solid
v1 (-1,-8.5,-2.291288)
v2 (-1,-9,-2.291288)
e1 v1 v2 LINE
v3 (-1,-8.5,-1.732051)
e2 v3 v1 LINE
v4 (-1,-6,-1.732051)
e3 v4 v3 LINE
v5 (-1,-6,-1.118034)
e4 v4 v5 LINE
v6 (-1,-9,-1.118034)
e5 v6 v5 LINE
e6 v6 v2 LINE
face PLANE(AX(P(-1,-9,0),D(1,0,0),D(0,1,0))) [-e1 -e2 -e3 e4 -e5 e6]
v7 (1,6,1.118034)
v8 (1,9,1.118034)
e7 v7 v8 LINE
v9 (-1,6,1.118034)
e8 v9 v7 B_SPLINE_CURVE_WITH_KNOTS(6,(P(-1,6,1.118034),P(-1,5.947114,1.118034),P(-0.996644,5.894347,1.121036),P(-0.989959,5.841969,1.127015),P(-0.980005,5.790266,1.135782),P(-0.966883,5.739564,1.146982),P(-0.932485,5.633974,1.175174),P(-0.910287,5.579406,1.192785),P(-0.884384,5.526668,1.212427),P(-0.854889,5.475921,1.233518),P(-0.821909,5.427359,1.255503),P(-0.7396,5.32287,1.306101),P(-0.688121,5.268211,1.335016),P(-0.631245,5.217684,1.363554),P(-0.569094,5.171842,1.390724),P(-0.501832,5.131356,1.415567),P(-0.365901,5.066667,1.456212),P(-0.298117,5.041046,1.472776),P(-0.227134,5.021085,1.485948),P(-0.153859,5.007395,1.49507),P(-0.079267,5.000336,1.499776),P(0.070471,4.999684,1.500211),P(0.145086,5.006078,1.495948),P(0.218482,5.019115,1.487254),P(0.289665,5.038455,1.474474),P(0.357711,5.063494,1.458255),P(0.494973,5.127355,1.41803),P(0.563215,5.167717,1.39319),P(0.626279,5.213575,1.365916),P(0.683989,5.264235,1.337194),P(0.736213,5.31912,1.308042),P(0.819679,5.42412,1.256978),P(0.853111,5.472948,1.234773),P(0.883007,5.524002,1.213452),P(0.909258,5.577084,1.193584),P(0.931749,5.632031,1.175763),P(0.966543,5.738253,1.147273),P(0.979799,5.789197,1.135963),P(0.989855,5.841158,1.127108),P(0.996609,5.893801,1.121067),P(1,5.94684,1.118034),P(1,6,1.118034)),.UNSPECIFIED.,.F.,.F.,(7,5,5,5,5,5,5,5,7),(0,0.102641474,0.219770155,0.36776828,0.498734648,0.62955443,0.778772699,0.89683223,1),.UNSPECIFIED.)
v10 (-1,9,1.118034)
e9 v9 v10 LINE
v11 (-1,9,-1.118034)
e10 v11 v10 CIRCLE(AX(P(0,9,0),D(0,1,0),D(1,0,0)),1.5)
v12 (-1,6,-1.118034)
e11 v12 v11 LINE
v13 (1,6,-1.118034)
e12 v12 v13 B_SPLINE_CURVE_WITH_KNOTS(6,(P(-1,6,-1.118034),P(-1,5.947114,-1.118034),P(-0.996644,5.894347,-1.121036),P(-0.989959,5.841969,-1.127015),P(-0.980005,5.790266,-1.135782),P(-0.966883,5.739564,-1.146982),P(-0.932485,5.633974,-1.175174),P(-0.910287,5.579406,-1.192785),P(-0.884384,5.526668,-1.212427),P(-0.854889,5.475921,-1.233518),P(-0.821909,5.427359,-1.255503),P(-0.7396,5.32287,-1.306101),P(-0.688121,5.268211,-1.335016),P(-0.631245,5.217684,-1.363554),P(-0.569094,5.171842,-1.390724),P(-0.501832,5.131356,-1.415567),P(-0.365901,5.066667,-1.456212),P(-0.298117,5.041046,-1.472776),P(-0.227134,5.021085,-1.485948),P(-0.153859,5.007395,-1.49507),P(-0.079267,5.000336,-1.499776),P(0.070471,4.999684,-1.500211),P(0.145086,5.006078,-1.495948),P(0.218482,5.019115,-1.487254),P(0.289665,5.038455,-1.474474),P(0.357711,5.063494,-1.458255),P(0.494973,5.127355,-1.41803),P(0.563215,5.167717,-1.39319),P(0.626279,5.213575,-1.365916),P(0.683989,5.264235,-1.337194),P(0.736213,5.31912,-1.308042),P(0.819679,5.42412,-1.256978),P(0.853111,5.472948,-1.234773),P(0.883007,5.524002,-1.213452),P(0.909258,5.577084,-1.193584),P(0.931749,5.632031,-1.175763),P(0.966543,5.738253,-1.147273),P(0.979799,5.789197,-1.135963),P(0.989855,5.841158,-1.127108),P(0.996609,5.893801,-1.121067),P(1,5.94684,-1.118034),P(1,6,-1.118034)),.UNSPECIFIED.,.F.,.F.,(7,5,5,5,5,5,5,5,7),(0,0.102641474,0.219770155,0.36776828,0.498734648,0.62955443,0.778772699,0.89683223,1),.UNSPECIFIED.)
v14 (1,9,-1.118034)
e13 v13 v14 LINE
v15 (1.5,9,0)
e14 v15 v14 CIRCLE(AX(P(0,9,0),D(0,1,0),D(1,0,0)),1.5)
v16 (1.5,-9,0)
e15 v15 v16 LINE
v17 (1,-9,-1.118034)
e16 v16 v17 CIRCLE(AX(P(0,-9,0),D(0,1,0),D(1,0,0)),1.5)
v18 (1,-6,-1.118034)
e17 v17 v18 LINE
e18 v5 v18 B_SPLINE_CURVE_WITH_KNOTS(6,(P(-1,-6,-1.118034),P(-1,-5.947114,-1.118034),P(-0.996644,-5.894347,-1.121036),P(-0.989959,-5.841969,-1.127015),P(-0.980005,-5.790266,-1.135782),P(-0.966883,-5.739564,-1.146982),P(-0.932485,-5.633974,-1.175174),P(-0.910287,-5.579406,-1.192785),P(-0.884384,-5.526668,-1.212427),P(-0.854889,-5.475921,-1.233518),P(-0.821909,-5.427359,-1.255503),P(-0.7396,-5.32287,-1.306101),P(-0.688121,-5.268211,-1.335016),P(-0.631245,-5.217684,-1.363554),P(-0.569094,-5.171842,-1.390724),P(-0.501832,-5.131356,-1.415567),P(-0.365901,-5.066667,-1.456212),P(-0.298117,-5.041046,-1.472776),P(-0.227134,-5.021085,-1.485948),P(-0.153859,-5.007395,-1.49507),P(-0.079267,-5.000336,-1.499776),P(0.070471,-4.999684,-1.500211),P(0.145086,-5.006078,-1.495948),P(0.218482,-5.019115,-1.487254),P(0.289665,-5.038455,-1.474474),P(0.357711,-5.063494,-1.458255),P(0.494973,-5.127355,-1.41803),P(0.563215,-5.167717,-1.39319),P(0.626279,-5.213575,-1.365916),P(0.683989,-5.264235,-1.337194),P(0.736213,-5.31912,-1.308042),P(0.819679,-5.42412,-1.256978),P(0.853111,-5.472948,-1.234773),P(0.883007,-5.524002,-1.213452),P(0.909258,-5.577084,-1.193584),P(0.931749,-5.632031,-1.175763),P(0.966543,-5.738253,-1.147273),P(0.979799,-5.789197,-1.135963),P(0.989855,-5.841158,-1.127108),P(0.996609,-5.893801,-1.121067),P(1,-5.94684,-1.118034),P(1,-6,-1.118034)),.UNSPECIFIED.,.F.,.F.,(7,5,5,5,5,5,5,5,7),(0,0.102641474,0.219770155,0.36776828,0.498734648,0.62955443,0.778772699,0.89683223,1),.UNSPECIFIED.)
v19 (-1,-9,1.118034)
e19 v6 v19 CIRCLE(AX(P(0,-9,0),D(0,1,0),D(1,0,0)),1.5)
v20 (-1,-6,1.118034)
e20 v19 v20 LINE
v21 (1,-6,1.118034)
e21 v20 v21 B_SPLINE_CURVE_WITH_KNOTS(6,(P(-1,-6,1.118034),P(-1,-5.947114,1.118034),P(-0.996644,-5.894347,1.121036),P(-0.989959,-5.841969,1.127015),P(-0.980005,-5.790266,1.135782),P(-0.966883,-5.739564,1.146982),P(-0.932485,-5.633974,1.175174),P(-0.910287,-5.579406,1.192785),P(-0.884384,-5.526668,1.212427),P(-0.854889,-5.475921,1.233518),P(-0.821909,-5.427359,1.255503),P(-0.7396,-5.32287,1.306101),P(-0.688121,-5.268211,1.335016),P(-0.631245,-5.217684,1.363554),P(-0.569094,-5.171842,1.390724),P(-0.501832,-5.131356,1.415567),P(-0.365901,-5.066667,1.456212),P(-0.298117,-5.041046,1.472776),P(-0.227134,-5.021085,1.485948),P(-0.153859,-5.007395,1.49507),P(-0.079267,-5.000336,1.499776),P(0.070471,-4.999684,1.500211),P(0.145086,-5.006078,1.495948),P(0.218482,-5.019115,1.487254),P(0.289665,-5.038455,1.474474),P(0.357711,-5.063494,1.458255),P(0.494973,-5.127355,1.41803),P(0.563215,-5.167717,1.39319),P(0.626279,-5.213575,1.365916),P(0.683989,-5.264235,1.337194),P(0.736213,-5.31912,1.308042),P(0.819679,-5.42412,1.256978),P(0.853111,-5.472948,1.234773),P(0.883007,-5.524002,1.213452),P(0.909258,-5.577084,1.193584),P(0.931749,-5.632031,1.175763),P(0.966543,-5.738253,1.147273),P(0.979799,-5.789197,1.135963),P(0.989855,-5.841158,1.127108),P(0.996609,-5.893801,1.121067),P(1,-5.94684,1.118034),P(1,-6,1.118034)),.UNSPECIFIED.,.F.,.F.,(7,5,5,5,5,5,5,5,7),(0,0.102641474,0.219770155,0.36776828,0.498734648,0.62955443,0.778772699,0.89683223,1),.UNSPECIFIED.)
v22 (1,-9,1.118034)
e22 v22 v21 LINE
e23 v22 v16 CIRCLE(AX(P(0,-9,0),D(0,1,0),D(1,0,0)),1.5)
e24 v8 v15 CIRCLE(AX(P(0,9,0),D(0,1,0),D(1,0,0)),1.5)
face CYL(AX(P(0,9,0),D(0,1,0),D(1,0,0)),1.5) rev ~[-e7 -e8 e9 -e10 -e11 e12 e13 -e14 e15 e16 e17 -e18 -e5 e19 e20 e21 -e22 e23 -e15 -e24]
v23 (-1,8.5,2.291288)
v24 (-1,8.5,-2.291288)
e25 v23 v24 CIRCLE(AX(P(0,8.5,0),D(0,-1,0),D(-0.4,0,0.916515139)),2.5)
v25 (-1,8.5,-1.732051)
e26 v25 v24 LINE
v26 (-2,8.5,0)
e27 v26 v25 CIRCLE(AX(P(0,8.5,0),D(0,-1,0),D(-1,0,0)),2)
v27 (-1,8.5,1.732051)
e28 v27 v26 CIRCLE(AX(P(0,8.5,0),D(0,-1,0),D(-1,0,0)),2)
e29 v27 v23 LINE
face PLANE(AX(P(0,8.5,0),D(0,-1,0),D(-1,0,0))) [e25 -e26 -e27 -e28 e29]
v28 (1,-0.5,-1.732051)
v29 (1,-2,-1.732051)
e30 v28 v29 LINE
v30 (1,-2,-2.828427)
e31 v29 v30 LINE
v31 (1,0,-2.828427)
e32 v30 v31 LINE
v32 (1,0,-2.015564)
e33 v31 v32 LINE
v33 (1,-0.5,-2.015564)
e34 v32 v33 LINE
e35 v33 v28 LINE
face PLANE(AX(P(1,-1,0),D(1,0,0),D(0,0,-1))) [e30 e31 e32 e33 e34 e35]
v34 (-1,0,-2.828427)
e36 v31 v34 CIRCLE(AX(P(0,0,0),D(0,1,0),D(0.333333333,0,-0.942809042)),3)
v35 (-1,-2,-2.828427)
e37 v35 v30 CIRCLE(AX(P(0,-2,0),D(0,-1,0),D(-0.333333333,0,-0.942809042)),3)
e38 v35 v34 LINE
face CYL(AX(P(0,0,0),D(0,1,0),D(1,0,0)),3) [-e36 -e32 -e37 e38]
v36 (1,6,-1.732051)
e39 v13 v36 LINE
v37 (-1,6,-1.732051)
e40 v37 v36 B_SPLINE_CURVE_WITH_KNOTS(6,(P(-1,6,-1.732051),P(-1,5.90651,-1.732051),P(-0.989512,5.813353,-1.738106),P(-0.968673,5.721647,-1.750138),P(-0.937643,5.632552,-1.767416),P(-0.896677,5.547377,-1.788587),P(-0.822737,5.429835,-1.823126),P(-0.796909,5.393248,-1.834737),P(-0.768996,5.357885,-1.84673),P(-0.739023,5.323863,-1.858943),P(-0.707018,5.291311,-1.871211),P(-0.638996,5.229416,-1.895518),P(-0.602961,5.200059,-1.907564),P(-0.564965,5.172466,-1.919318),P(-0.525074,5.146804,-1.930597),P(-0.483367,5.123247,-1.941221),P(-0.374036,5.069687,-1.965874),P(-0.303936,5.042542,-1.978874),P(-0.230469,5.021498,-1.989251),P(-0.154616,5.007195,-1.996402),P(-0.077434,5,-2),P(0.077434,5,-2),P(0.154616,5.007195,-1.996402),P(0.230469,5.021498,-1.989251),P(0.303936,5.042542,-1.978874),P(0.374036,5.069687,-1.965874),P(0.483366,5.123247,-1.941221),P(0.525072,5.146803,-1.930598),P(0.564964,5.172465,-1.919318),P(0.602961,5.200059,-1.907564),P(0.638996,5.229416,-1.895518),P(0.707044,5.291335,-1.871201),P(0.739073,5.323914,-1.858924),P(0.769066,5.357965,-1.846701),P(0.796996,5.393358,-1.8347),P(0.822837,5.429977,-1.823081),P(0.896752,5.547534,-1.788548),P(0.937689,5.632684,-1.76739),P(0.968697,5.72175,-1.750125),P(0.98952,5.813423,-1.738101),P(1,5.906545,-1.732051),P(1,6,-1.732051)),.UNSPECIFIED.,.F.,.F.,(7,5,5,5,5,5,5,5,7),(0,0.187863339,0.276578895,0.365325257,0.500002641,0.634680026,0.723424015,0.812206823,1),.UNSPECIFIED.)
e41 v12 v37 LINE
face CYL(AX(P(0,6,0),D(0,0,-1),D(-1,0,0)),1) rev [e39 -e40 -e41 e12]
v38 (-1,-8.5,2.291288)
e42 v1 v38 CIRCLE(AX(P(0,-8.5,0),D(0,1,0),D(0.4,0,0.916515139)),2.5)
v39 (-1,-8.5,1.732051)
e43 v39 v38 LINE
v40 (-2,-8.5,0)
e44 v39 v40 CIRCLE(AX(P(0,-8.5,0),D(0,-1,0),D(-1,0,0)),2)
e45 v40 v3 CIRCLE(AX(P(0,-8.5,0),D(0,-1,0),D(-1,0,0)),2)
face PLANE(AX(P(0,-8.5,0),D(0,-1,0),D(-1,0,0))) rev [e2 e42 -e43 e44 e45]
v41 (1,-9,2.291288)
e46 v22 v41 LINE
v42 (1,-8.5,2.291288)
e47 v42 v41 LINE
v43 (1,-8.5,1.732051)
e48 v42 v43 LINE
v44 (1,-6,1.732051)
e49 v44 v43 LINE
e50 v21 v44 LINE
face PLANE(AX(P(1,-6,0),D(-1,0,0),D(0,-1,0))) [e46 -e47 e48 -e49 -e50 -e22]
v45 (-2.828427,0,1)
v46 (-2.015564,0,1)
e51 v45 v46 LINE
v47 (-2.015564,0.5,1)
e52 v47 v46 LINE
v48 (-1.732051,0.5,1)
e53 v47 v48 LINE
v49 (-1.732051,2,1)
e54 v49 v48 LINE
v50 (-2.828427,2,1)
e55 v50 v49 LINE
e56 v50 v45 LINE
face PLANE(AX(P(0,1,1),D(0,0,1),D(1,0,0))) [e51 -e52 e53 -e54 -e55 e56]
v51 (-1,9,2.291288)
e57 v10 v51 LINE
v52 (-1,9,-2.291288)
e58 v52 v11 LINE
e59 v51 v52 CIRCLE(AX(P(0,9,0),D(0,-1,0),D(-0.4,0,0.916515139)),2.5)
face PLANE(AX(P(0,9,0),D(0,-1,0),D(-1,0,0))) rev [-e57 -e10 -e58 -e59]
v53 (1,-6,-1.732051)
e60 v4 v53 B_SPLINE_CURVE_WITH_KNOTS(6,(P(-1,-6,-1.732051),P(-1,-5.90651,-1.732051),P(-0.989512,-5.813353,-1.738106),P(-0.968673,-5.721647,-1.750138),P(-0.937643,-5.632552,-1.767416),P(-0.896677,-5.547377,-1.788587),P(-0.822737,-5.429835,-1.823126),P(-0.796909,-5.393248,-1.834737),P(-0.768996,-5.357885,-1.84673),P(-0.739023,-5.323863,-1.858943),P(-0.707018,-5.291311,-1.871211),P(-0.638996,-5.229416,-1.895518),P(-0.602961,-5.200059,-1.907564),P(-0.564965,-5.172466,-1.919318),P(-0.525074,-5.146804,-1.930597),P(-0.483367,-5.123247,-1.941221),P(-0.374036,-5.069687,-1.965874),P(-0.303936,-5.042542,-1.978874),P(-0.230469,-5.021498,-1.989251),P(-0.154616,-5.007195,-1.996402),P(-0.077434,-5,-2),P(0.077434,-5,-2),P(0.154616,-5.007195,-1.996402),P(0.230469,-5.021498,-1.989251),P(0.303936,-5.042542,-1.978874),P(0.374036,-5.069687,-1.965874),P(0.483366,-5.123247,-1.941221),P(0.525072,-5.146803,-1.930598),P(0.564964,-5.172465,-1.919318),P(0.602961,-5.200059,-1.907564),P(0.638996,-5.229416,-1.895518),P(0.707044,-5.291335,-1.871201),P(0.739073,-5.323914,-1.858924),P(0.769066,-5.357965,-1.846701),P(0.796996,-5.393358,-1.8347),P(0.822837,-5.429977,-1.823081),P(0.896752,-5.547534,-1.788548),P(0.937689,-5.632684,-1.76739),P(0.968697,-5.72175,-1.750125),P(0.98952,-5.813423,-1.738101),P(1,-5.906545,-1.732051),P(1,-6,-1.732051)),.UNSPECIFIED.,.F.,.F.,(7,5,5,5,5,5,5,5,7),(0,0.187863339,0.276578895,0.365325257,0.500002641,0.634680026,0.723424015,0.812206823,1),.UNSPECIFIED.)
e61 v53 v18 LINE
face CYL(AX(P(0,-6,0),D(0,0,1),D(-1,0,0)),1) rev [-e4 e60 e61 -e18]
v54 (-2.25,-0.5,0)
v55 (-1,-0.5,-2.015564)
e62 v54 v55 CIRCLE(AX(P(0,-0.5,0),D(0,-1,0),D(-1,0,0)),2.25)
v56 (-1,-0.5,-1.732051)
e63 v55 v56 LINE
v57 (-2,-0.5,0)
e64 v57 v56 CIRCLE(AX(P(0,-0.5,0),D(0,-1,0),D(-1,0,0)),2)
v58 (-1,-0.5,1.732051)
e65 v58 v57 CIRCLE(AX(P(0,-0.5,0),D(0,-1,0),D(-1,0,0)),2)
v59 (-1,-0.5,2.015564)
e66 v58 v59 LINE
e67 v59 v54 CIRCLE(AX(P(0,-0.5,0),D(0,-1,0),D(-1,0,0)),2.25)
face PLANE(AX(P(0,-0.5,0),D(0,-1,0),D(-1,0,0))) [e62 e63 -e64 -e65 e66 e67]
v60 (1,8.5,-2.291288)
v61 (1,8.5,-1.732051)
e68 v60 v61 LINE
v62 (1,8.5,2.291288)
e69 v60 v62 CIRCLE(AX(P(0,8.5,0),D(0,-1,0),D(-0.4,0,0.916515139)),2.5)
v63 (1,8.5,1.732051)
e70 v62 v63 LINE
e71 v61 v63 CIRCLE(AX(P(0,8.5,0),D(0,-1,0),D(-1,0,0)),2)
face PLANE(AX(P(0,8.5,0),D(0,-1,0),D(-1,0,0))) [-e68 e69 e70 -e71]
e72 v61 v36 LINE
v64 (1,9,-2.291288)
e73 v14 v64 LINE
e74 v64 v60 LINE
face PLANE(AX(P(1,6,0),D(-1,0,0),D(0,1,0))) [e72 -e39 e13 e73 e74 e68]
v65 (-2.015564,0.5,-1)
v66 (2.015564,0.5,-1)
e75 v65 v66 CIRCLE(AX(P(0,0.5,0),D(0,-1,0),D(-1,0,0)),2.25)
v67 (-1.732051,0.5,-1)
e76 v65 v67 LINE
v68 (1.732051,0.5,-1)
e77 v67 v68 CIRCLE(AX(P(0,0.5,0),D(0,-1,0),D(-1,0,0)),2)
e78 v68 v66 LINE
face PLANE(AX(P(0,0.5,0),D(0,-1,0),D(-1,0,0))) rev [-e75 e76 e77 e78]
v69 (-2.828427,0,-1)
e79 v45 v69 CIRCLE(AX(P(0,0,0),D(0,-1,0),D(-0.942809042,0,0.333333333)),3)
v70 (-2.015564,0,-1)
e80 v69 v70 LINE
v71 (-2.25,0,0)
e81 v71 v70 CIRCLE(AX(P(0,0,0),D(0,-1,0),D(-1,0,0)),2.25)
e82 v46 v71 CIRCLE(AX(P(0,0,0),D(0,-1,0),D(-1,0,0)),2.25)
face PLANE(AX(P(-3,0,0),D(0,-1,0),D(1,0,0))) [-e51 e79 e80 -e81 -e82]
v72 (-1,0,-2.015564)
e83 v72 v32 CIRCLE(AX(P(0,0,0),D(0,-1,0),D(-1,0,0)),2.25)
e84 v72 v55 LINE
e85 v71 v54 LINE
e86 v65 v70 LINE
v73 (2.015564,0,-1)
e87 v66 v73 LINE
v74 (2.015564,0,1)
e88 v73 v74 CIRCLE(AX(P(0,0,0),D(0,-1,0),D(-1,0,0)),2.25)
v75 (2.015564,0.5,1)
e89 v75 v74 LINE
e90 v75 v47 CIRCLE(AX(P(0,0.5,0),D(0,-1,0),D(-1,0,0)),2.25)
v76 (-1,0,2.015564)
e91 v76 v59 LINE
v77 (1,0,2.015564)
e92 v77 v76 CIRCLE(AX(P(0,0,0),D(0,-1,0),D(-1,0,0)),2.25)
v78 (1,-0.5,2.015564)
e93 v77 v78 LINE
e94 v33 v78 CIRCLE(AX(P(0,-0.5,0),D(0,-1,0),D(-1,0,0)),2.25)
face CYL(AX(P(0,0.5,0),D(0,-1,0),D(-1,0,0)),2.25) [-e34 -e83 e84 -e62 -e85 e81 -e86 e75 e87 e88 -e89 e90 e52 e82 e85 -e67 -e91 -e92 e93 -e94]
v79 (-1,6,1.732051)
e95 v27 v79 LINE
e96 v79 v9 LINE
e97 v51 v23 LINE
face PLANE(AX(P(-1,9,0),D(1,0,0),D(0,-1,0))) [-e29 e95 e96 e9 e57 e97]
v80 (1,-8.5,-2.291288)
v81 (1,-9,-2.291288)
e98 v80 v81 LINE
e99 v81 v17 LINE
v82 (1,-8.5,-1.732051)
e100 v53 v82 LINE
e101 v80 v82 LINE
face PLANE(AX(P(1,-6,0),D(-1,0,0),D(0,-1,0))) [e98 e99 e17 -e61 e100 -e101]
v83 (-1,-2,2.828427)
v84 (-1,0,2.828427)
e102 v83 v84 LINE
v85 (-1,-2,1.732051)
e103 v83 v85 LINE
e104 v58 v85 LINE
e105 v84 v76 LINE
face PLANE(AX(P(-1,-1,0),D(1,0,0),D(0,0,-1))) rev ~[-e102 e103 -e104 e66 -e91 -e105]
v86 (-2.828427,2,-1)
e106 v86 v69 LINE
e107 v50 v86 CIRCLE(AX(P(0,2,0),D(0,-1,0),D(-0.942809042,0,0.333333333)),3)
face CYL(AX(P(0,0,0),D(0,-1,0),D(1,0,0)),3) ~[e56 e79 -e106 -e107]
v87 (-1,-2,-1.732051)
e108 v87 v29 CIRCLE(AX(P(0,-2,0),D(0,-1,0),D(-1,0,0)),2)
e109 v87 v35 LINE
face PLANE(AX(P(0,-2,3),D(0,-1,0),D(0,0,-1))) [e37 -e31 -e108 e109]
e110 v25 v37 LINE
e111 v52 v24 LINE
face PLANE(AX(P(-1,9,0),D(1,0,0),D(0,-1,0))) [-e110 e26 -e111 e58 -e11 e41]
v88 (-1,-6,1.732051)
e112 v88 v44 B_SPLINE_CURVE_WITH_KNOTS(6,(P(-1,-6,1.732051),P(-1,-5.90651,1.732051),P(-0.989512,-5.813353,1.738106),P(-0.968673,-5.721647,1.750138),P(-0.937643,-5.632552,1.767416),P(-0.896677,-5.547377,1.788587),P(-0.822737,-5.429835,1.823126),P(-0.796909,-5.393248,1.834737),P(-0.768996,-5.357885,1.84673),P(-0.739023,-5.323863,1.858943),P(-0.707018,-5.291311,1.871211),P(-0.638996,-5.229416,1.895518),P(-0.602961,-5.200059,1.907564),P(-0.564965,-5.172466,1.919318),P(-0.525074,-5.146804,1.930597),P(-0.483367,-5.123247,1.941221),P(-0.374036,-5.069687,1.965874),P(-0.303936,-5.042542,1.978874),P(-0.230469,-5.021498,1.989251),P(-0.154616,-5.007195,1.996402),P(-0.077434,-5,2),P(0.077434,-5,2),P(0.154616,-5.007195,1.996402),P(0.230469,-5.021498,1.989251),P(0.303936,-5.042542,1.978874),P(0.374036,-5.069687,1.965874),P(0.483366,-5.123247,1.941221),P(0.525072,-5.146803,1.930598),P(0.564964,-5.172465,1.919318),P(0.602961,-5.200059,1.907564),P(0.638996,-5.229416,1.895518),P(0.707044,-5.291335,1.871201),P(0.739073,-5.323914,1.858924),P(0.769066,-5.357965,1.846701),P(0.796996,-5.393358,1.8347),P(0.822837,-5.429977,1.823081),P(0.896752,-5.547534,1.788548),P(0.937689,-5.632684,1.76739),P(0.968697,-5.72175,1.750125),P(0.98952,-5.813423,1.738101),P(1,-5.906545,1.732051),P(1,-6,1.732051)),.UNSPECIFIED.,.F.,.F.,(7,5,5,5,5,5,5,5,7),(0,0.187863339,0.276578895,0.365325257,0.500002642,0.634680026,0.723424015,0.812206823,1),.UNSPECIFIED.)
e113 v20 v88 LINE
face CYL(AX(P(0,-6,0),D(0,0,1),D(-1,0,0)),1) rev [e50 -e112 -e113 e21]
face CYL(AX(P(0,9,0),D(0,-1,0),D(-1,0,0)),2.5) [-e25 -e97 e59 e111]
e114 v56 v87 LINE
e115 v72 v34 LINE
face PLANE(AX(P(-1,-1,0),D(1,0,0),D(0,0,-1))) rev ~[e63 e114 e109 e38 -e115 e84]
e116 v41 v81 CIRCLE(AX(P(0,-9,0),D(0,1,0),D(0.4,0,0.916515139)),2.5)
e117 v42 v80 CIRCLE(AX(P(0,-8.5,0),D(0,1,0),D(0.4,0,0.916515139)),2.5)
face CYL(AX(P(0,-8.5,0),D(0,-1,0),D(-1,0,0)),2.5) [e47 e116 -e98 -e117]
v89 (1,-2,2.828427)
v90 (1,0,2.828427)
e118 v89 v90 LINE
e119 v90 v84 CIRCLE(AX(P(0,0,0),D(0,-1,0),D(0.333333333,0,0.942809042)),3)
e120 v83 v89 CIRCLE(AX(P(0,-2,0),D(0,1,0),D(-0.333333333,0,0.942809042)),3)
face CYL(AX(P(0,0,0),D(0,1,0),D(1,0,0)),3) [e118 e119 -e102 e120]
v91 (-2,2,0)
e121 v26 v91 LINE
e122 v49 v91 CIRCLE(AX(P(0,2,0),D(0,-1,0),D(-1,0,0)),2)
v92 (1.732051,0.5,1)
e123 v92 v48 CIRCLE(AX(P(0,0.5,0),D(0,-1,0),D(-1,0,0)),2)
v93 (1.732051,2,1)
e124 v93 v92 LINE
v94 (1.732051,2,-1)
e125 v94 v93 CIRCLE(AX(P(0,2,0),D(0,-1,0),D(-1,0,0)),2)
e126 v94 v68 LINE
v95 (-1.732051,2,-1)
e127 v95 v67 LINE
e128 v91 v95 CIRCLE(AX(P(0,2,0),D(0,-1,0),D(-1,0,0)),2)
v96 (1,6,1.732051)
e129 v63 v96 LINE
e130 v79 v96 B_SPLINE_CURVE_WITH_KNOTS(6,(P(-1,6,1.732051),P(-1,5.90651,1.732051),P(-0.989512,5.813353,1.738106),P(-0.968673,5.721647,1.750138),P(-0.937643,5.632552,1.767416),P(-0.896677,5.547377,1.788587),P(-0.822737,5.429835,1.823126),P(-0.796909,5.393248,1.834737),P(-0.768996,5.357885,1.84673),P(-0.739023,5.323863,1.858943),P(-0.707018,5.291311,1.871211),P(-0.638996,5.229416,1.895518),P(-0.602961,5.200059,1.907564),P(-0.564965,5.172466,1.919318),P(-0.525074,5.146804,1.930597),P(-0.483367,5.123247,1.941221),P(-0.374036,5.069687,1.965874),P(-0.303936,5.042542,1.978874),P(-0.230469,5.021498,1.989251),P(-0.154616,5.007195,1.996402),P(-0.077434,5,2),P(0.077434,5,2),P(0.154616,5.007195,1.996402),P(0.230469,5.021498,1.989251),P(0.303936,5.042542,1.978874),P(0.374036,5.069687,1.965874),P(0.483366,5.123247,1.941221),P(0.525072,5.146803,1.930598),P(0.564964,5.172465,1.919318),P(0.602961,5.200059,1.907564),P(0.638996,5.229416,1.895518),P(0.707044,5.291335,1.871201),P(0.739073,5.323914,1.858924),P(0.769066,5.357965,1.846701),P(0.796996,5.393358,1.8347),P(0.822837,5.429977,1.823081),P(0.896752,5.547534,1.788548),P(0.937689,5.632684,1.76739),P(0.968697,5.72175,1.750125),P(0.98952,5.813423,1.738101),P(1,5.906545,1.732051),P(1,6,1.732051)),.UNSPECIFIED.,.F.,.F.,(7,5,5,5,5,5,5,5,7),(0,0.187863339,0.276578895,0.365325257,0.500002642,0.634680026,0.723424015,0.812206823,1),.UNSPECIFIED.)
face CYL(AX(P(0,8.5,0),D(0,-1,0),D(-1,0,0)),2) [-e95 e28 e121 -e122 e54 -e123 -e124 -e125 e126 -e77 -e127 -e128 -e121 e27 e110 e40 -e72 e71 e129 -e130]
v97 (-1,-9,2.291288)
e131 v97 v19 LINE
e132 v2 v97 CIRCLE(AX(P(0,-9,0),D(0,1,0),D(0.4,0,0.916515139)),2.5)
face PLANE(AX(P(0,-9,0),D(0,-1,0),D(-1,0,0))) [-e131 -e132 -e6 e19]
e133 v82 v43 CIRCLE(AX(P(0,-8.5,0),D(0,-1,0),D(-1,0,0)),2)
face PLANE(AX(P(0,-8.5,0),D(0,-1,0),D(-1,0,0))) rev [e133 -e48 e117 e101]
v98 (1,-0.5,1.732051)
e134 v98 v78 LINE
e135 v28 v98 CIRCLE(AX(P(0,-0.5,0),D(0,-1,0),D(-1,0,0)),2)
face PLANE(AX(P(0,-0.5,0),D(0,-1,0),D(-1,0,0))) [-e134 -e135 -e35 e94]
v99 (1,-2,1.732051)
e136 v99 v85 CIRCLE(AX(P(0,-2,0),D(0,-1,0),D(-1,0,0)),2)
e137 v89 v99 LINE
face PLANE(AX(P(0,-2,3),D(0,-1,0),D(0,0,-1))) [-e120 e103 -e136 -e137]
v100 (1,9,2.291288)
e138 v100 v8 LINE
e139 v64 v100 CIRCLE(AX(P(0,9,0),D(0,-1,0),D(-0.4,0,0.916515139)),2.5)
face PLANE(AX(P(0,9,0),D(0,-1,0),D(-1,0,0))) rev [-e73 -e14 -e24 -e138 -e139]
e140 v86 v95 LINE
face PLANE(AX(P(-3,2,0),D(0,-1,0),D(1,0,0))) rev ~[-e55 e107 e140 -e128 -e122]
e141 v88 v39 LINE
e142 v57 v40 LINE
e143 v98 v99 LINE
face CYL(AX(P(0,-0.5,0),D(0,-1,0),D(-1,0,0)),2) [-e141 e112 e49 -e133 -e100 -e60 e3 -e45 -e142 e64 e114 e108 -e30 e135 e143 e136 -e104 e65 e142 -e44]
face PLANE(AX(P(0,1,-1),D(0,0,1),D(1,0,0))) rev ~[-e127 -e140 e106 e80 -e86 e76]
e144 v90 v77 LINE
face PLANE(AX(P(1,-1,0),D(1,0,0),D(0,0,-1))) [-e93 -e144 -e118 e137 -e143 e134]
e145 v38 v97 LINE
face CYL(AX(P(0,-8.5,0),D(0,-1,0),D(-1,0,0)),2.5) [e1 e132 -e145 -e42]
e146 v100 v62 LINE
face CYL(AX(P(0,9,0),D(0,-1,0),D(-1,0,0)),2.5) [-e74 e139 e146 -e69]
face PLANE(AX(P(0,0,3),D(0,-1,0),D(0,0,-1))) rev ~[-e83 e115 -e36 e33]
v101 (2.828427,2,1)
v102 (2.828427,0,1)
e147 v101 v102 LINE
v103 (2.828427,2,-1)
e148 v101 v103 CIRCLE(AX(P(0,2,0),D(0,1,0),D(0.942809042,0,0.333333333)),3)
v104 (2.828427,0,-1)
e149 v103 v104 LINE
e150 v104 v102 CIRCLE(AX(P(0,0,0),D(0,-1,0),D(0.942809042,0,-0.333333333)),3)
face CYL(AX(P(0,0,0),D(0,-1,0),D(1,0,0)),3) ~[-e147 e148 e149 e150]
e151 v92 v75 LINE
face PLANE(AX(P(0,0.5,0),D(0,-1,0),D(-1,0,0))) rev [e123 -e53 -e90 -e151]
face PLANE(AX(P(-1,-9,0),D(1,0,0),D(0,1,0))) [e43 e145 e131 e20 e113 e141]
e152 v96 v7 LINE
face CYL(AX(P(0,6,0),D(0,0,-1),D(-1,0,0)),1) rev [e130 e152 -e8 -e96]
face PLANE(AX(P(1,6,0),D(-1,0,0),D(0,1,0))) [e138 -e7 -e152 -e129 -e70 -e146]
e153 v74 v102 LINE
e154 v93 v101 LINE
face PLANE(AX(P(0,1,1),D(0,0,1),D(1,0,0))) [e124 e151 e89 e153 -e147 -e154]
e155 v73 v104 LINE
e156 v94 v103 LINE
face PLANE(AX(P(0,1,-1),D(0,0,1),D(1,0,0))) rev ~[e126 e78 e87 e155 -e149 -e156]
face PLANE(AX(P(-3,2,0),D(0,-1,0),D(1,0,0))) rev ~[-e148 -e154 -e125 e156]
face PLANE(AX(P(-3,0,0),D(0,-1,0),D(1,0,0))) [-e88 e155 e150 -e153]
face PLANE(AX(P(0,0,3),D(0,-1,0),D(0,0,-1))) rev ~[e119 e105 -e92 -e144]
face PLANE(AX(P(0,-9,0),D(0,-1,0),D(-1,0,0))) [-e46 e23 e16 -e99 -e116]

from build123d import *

# Parameters (mm, degrees)
SKETCH3_W               = 6
SKETCH3_H               = 2
BOSS_EXTRUDE4_DEPTH     = 1
SKETCH4_W               = 6
SKETCH4_H               = 2
BOSS_EXTRUDE5_DEPTH     = 1
CUT_EXTRUDE2_DEPTH      = 4
CUT_EXTRUDE2_DEPTH_BACK = 4
SKETCH6_R               = 1.5
CUT_EXTRUDE3_DEPTH      = 18
SKETCH7_OUTSIDE_W       = 11.98
SKETCH7_OUTSIDE_H       = 11.98
SKETCH7_OUTSIDE_R       = 3
CUT_EXTRUDE4_DEPTH      = 10.0000001
CUT_EXTRUDE4_DEPTH_BACK = 10.0000001


with BuildPart() as part:
    # Sketch1 → Revolve5 (revolve)
    with BuildSketch(Plane.XY):
        Polygon((0, 9), (-2.5, 9), (-2.5, 8.5), (-2, 8.5), (-2, 0.5), (-2.25, 0.5), (-2.25, -0.5), (-2, -0.5), (-2, -8.5), (-2.5, -8.5), (-2.5, -9), (0, -9), align=None)
    revolve(axis=Axis((0, 9, 0), (0, -1, 0)))

    # Sketch3 → Boss-Extrude4 (add, symmetric)
    with BuildSketch(Plane.XY):
        with Locations((0, 1)):
            Rectangle(SKETCH3_W, SKETCH3_H)
    extrude(amount=BOSS_EXTRUDE4_DEPTH, both=True)

    # Sketch4 → Boss-Extrude5 (add, symmetric)
    with BuildSketch(Plane(origin=(0, 0, 0), x_dir=(0, 0, -1), z_dir=(1, 0, 0))):
        with Locations((0, -1)):
            Rectangle(SKETCH4_W, SKETCH4_H)
    extrude(amount=BOSS_EXTRUDE5_DEPTH, both=True)

    # Sketch5 → Cut-Extrude2 (cut, two sides)
    with BuildSketch(Plane.XY) as cut_extrude2_sk:
        with BuildLine():
            Line((-1, 9), (-1, 6))
            ThreePointArc((-1, 6), (0, 5), (1, 6))
            Line((1, 6), (1, 9))
            Line((1, 9), (-1, 9))
        make_face()
        with BuildLine():
            Line((-1, -9), (-1, -6))
            ThreePointArc((-1, -6), (0, -5), (1, -6))
            Line((1, -6), (1, -9))
            Line((1, -9), (-1, -9))
        make_face()
    extrude(amount=CUT_EXTRUDE2_DEPTH, mode=Mode.SUBTRACT)
    extrude(cut_extrude2_sk.sketch, amount=-CUT_EXTRUDE2_DEPTH_BACK, mode=Mode.SUBTRACT)

    # Sketch6 → Cut-Extrude3 (cut)
    with BuildSketch(Plane(origin=(0, 9, 0), x_dir=(1, 0, 0), z_dir=(0, 1, 0))):
        Circle(SKETCH6_R)
    extrude(amount=-CUT_EXTRUDE3_DEPTH, mode=Mode.SUBTRACT)

    # Sketch7 outside → Cut-Extrude4 (cut, two sides)
    with BuildSketch(Plane(origin=(0, 0, 0), x_dir=(1, 0, 0), z_dir=(0, 1, 0))) as cut_extrude4_sk:
        Rectangle(SKETCH7_OUTSIDE_W, SKETCH7_OUTSIDE_H)
        Circle(SKETCH7_OUTSIDE_R, mode=Mode.SUBTRACT)
    extrude(amount=CUT_EXTRUDE4_DEPTH, mode=Mode.SUBTRACT)
    extrude(cut_extrude4_sk.sketch, amount=-CUT_EXTRUDE4_DEPTH_BACK, mode=Mode.SUBTRACT)


solid = part.part
